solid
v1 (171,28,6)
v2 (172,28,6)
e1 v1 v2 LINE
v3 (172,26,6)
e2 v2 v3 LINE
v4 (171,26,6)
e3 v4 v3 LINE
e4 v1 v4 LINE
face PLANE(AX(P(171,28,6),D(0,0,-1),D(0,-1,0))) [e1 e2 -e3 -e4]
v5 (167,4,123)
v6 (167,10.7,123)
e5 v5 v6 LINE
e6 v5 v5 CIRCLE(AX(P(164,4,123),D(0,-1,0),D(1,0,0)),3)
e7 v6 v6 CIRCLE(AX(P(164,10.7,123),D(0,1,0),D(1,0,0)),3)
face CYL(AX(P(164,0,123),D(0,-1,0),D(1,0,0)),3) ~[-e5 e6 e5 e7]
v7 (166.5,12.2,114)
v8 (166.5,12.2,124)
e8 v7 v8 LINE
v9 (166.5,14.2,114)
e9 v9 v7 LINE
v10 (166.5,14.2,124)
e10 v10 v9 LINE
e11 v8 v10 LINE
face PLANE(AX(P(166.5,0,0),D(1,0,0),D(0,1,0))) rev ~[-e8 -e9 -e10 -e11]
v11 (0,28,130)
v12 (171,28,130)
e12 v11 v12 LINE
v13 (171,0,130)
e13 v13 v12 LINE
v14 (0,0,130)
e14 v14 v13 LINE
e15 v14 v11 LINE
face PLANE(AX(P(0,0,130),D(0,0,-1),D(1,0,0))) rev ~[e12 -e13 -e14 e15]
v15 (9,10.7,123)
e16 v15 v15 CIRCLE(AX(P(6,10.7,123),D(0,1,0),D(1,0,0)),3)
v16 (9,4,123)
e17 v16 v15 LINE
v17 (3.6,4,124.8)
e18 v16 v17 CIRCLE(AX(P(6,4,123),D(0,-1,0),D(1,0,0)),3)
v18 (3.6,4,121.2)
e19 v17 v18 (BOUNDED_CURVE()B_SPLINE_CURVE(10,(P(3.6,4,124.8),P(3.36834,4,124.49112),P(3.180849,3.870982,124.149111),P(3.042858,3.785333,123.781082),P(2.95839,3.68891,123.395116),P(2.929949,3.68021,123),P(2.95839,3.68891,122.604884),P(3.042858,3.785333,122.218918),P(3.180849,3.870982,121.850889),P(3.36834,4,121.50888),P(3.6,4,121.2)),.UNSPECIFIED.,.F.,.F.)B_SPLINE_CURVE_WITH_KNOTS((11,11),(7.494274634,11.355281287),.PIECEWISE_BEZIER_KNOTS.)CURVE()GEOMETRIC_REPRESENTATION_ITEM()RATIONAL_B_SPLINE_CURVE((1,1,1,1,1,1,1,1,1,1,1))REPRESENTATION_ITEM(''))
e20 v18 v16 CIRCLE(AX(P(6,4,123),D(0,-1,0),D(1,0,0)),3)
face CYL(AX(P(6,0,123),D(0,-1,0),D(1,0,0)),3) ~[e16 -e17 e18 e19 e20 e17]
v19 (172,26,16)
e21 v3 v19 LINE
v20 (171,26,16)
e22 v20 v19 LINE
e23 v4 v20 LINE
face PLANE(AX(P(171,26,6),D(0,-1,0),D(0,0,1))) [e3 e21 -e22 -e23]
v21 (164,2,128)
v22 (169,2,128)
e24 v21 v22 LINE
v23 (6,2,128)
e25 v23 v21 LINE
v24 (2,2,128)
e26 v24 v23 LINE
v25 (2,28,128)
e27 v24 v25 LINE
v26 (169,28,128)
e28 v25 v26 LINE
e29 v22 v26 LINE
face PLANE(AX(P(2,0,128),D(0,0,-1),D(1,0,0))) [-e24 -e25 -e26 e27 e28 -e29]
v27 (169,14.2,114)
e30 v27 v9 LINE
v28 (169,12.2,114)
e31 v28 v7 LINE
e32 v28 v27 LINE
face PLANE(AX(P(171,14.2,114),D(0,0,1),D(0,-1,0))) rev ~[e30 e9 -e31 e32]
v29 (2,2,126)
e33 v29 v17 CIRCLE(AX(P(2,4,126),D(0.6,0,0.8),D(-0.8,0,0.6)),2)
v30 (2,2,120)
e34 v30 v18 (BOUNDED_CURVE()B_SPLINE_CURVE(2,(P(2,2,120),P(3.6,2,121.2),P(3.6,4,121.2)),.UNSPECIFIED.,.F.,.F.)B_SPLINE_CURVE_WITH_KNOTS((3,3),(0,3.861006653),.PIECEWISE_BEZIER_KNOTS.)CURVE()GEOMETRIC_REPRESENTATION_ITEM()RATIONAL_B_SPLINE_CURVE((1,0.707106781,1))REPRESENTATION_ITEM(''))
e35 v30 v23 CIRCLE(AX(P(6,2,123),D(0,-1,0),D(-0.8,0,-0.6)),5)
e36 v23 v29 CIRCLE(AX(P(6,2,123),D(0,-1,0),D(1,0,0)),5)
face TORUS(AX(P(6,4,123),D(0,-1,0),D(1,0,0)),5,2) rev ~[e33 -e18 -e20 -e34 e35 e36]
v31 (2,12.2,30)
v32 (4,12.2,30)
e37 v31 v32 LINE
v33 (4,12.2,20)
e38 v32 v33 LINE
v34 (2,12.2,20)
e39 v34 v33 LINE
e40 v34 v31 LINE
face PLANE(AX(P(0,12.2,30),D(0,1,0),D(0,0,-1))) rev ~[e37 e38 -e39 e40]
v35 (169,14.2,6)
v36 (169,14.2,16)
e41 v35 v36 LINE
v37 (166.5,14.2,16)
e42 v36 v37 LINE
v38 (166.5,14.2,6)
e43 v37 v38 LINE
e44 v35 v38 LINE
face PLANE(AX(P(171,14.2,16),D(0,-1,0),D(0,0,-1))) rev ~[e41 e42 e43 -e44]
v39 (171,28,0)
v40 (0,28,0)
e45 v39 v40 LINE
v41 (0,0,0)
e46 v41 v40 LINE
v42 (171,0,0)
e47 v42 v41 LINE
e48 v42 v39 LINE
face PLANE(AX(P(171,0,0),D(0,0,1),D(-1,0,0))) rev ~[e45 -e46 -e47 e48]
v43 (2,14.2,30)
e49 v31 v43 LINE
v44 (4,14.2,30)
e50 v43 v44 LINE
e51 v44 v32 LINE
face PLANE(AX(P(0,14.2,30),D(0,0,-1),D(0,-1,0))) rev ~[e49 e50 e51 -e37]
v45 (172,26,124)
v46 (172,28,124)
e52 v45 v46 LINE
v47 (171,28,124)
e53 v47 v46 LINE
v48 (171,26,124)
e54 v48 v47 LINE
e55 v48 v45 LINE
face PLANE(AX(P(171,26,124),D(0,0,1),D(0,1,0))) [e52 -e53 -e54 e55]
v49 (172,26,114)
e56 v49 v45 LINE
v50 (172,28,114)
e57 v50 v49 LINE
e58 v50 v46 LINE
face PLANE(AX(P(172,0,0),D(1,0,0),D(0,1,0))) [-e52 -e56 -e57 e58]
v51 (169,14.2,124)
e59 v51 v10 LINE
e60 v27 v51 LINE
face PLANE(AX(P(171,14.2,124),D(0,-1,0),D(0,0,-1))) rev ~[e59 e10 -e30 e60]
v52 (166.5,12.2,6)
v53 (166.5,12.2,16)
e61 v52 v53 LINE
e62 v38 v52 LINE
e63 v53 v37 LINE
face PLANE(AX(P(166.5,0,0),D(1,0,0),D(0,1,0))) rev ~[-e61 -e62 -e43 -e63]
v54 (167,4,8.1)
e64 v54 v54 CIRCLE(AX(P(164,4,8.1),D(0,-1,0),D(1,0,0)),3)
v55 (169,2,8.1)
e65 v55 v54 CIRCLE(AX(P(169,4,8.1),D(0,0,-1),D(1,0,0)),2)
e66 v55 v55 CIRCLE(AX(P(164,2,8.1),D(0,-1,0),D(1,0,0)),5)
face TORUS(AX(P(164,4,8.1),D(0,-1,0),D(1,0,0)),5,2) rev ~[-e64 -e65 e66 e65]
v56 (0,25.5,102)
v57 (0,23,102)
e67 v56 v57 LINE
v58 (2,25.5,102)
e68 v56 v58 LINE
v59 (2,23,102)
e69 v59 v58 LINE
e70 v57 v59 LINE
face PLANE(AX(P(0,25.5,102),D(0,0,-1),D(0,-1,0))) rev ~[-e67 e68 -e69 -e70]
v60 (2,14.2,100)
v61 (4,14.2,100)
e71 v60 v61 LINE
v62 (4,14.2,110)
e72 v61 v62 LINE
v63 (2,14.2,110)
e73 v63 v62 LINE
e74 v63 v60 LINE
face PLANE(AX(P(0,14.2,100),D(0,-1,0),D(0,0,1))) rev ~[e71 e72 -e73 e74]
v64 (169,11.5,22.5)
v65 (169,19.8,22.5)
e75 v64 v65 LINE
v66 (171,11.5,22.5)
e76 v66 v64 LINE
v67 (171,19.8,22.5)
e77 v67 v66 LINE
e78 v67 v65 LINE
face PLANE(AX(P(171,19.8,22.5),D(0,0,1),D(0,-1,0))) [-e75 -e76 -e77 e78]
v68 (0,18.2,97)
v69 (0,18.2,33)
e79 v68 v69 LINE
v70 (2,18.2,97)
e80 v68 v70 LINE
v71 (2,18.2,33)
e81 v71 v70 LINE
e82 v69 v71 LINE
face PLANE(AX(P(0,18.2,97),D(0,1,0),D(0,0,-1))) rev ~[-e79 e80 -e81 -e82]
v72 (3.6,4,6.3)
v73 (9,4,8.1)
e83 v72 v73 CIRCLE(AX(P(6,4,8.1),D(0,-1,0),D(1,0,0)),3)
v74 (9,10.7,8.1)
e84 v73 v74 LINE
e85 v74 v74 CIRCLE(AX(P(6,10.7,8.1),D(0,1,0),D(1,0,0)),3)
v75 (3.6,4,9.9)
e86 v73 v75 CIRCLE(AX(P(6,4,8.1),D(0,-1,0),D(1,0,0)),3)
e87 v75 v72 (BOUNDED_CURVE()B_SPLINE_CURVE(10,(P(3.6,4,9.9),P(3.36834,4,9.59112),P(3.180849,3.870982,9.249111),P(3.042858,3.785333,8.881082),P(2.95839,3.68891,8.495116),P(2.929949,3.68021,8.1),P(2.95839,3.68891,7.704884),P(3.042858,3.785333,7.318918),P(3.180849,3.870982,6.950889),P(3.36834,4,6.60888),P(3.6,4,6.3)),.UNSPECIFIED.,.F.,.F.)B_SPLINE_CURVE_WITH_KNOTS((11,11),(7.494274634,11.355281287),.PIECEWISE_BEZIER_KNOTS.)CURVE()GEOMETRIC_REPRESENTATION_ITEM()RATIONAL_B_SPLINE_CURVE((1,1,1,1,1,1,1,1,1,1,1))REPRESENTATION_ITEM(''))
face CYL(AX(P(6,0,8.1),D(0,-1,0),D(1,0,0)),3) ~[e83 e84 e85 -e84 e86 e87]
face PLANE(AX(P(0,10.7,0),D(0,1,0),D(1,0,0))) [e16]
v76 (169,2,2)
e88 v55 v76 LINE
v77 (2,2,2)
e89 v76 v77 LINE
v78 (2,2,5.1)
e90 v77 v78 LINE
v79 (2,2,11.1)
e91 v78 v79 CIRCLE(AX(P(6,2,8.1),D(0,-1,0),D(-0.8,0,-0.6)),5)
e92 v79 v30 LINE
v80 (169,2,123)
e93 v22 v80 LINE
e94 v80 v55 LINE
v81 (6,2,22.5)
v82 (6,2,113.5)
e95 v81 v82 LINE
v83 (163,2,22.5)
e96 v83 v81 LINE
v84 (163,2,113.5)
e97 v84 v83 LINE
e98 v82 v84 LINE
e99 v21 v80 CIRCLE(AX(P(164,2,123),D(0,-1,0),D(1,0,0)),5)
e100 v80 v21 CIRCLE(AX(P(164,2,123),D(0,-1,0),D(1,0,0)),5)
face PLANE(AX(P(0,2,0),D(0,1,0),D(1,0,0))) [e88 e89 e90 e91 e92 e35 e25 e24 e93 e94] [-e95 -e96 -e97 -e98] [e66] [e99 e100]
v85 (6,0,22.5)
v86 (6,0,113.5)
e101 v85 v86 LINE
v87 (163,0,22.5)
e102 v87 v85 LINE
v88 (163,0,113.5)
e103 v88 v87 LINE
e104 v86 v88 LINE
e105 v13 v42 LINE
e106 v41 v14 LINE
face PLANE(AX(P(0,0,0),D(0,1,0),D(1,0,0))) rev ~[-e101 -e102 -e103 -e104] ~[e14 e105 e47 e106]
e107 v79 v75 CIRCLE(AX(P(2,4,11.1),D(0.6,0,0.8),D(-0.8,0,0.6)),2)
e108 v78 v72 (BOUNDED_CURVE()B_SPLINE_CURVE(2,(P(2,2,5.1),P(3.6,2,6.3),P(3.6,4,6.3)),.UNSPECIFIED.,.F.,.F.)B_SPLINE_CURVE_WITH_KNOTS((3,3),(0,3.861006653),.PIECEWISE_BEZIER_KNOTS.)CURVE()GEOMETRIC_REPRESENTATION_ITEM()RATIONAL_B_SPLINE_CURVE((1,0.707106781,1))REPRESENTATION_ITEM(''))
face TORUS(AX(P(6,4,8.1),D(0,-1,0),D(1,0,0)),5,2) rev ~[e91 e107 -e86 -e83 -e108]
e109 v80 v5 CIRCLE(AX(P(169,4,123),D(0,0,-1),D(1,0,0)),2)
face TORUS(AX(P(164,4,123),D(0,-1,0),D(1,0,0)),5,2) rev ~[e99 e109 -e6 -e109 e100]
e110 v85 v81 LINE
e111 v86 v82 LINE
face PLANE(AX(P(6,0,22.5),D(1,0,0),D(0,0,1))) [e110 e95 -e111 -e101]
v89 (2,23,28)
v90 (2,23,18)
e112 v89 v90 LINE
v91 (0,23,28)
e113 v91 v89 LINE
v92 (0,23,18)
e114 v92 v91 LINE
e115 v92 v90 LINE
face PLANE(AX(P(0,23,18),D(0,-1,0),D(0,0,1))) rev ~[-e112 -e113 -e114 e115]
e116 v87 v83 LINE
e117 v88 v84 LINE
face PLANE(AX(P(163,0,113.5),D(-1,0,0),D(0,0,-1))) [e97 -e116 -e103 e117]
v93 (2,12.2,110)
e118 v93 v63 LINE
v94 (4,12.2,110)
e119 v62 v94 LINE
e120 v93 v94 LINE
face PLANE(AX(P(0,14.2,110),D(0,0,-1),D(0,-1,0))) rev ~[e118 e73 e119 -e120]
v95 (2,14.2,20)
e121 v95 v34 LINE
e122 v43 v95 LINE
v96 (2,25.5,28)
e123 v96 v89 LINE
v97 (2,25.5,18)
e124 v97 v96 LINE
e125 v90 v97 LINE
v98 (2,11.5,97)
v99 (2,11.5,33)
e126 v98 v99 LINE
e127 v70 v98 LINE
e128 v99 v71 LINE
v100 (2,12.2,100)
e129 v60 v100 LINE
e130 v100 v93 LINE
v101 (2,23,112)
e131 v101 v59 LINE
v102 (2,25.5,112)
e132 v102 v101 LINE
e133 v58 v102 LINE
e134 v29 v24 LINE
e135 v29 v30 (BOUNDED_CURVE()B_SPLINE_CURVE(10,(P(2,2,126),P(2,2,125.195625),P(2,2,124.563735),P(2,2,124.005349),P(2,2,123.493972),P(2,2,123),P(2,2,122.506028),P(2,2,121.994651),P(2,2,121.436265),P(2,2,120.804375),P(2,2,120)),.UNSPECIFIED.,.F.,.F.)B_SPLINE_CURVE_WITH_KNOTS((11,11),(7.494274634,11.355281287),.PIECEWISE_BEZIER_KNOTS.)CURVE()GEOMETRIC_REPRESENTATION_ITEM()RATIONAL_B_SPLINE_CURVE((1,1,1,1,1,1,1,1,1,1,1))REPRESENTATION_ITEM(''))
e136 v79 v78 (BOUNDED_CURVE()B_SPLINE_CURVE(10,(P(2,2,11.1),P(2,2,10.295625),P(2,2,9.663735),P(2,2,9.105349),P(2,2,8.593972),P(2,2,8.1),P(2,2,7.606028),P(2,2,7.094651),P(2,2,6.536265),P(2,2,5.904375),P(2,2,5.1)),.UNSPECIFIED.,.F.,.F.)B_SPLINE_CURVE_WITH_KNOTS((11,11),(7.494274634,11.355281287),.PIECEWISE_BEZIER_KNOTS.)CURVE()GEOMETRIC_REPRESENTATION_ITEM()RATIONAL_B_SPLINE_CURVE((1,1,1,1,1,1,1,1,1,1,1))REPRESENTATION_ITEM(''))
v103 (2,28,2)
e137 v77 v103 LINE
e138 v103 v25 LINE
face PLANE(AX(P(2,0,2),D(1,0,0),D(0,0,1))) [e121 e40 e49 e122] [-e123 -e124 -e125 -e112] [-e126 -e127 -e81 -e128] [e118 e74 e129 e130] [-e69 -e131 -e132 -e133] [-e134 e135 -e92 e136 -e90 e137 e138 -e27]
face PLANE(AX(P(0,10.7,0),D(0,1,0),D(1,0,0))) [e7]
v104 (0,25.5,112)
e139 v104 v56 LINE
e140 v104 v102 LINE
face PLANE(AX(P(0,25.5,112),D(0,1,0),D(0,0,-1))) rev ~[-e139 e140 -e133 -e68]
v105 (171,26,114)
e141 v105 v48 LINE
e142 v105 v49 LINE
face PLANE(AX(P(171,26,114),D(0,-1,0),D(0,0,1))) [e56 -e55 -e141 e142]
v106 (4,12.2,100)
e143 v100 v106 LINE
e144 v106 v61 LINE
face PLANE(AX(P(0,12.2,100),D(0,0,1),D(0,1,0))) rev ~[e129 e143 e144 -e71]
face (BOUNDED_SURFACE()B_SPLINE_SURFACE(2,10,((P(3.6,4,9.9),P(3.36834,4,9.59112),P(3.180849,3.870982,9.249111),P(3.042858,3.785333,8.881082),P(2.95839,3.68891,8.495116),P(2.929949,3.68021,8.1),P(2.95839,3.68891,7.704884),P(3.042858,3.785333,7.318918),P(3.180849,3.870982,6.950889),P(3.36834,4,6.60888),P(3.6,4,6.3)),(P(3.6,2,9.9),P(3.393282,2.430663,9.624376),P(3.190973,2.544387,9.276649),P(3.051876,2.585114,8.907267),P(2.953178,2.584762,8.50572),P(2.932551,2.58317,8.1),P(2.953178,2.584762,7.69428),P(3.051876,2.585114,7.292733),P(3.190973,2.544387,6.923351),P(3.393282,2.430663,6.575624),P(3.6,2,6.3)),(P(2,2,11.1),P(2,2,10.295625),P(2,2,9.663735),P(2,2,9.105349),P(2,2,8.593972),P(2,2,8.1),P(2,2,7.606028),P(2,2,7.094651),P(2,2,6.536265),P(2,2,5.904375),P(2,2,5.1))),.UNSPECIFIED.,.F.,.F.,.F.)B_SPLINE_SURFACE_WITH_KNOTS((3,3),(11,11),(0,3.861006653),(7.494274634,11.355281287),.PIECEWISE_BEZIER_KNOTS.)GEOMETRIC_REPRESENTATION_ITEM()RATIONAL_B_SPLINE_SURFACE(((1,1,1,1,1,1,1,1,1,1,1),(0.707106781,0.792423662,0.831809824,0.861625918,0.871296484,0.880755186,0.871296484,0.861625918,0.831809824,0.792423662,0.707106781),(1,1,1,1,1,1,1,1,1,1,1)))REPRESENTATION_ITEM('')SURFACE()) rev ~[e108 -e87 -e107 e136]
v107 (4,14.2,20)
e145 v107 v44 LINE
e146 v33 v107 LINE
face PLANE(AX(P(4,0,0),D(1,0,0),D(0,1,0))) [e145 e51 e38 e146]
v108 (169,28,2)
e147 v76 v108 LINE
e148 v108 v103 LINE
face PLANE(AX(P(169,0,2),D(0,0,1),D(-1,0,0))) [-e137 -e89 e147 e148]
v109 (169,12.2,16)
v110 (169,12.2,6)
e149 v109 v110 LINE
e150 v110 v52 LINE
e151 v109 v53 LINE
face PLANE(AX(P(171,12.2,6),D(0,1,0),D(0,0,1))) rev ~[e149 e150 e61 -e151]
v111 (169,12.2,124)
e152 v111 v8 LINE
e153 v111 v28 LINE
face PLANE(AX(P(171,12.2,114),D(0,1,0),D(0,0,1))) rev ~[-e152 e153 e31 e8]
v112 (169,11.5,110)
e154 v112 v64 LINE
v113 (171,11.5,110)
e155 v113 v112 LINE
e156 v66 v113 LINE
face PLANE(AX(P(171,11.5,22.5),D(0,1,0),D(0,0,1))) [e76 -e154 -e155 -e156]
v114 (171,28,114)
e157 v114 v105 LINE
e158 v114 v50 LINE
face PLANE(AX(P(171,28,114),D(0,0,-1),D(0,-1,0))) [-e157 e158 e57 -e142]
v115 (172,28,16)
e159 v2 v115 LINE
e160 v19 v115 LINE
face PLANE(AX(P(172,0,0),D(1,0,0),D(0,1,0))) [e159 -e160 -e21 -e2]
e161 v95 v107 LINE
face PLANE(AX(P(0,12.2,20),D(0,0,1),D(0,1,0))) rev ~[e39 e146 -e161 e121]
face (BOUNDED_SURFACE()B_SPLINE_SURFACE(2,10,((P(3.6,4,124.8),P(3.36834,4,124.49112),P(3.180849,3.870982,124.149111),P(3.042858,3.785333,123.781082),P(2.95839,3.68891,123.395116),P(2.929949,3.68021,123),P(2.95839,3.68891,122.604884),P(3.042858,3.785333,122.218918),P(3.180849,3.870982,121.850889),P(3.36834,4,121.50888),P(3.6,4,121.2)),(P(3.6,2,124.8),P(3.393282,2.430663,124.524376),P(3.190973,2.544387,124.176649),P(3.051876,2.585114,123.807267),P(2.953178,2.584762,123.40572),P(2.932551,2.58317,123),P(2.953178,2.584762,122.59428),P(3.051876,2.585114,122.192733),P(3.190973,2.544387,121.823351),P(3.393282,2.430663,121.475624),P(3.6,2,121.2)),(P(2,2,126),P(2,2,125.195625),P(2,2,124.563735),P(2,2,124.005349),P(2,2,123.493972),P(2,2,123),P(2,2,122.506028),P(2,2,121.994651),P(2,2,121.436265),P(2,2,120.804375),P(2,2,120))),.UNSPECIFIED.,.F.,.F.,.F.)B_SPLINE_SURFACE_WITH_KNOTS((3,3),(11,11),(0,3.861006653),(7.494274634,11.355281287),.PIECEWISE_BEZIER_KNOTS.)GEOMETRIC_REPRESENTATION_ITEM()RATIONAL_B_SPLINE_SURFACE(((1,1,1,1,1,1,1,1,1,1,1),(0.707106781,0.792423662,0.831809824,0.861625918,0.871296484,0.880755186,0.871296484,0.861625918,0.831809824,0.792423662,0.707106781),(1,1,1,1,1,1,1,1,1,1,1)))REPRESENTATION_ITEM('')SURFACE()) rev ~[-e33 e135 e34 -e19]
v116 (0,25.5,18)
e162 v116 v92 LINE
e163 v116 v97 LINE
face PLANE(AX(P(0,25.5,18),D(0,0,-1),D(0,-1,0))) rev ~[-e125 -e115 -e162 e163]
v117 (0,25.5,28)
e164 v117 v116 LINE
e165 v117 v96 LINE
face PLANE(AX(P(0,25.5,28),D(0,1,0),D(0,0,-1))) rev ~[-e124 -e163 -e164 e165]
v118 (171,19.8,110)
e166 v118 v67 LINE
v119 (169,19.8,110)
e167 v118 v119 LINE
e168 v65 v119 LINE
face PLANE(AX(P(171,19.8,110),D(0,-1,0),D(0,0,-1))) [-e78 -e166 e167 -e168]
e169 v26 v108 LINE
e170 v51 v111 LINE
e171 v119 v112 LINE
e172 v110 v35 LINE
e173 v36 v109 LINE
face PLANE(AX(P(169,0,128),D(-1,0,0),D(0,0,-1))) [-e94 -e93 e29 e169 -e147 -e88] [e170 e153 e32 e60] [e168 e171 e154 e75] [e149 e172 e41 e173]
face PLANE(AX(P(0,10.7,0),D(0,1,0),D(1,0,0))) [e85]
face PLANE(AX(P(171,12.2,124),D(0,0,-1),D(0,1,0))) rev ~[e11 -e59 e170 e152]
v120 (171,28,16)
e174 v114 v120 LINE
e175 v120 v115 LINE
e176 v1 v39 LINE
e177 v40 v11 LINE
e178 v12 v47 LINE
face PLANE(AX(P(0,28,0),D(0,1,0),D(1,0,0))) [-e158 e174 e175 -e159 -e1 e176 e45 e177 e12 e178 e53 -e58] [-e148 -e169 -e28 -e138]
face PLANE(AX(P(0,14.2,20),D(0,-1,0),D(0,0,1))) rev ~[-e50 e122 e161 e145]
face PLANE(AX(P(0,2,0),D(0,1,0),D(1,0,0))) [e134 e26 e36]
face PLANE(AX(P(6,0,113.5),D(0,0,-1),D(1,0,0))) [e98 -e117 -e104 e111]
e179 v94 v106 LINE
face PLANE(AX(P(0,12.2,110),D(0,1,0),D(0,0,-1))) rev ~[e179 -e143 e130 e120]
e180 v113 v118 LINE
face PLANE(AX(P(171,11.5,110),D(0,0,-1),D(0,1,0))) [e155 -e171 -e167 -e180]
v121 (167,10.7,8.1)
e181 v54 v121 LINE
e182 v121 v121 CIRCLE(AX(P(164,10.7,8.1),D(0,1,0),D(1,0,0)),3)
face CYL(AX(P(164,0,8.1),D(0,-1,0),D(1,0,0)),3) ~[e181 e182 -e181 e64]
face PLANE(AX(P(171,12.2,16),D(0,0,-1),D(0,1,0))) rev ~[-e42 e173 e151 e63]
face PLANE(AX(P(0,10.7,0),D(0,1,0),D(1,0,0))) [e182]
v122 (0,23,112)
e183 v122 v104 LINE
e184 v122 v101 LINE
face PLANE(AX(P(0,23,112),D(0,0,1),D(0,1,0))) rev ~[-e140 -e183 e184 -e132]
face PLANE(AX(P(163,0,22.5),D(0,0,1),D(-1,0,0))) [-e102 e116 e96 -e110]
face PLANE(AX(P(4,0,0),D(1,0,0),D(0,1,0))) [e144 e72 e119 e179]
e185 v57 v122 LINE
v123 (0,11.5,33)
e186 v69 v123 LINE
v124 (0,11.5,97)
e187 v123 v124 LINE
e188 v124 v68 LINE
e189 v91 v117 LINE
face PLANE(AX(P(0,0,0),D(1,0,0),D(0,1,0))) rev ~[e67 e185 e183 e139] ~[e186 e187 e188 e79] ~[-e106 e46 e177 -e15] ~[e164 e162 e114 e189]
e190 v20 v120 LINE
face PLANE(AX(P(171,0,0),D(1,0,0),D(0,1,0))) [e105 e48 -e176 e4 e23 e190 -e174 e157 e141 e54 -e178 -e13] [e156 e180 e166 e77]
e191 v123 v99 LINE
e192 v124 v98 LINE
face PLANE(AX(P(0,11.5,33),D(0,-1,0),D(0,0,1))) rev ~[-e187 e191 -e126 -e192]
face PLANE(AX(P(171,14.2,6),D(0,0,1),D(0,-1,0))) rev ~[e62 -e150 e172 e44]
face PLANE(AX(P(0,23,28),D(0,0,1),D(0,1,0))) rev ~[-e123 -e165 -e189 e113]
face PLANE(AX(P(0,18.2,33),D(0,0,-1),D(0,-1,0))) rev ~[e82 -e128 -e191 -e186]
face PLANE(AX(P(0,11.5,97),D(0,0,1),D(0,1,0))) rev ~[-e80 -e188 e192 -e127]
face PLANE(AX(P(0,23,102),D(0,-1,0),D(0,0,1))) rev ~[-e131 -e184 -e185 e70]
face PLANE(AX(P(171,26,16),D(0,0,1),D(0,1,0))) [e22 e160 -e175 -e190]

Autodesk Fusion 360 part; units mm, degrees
sketch "Sketch1" plane through (0, 0, 0) normal (0, 1, 0) x (1, 0, 0)
  line L0 (0, -130) -> (171, -130)
  line L1 (171, -130) -> (171, 0)
  line L2 (171, 0) -> (0, 0)
  line L3 (0, 0) -> (0, -130)
  line L4 (6, -113.5) -> (163, -113.5)
  line L5 (163, -113.5) -> (163, -22.5)
  line L6 (163, -22.5) -> (6, -22.5)
  line L7 (6, -22.5) -> (6, -113.5)
  line L8 (2, -128) -> (169, -128)
  line L9 (169, -128) -> (169, -2)
  line L10 (169, -2) -> (2, -2)
  line L11 (2, -2) -> (2, -128)
  circle A0 centre (6, -8.1) radius 3
  circle A1 centre (164, -8.1) radius 3
  circle A2 centre (6, -123) radius 3
  circle A3 centre (164, -123) radius 3
  dimension "d1" = 171
  dimension "d2" = 130
  dimension "d3" = 157
  dimension "d4" = 91
  dimension "d6" = 16.5
  dimension "d7" = 167
  dimension "d8" = 126
  dimension "d9" = 2
  dimension "d10" = 2
  dimension "d15" = 6
  dimension "d17" = 14.4
  dimension "d18" = 6
  dimension "d19" = 158
  dimension "d20" = 6
  dimension "d21" = 6
  dimension "d22" = 158
  dimension "d25" = 7
  dimension "d37" = 14.4
  dimension "d39" = 7
  dimension "d40" = 114.9
extrude "Extrude1" add sketch "Sketch1" along normal blind 28 contours L0 L1 L2 L3
extrude "Extrude2" add sketch "Sketch1" along normal blind 2 contours L8 L9 L10 L11 | A0 | A1 | A2 | A3
extrude "Extrude4" add sketch "Sketch1" along normal blind 10.7 contours A3
extrude "Extrude5" add sketch "Sketch1" along normal blind 10.7 contours A2
extrude "Extrude6" add sketch "Sketch1" along normal blind 10.7 contours A0
extrude "Extrude7" add sketch "Sketch1" along normal blind 10.7 contours A1
fillet "Fillet1" radius 2 1 edges at (161.203, 2, 121.9152)
fillet "Fillet2" radius 2 1 edges at (3.203, 2, 121.9152)
fillet "Fillet3" radius 2 1 edges at (3.203, 2, 7.0152)
fillet "Fillet4" radius 2 1 edges at (161.203, 2, 7.0152)
sketch "Right - Buttons" plane through (0, 0, 0) normal (1, 0, 0) x (0, 1, 0)
  line L0 (11.5, 97) -> (18.2, 97)
  line L1 (18.2, 97) -> (18.2, 33)
  line L2 (18.2, 33) -> (11.5, 33)
  line L3 (11.5, 33) -> (11.5, 97)
  line L4 (0, 0) -> (28, 0)
  line L5 (14.2, 110) -> (12.2, 110)
  line L6 (12.2, 110) -> (12.2, 100)
  line L7 (12.2, 100) -> (14.2, 100)
  line L8 (14.2, 100) -> (14.2, 110)
  line L9 (0, 130) -> (28, 130)
  line L10 (14.2, 30) -> (12.2, 30)
  line L11 (12.2, 30) -> (12.2, 20)
  line L12 (12.2, 20) -> (14.2, 20)
  line L13 (14.2, 20) -> (14.2, 30)
  line L14 (23, 112) -> (25.5, 112)
  line L15 (25.5, 112) -> (25.5, 102)
  line L16 (25.5, 102) -> (23, 102)
  line L17 (23, 102) -> (23, 112)
  line L18 (28, 0) -> (28, 130)
  line L19 (23, 28) -> (25.5, 28)
  line L20 (25.5, 28) -> (25.5, 18)
  line L21 (25.5, 18) -> (23, 18)
  line L22 (23, 18) -> (23, 28)
  dimension "d49" = 6.7
  dimension "d50" = 64
  dimension "d51" = 33
  dimension "d52" = 11.5
  dimension "d73" = 2
  dimension "d74" = 10
  dimension "d75" = 12.2
  dimension "d76" = 20
  dimension "d77" = 2
  dimension "d78" = 10
  dimension "d79" = 12.2
  dimension "d80" = 20
  dimension "d91" = 2.5
  dimension "d92" = 10
  dimension "d93" = 2.5
  dimension "d94" = 18
  dimension "d95" = 2.5
  dimension "d96" = 10
  dimension "d97" = 2.5
  dimension "d98" = 18
extrude "Extrude8" cut sketch "Right - Buttons" along normal blind 10 contours L0 L1 L2 L3
sketch "Left - HDMI" plane through (171, 0, 0) normal (1, 0, 0) x (0, 1, 0)
  line L0 (0, 130) -> (0, 0)
  line L1 (0, 0) -> (28, 0)
  line L2 (28, 0) -> (28, 130)
  line L3 (28, 130) -> (0, 130)
  line L4 (11.5, 110) -> (19.8, 110)
  line L5 (19.8, 110) -> (19.8, 22.5)
  line L6 (19.8, 22.5) -> (11.5, 22.5)
  line L7 (11.5, 22.5) -> (11.5, 110)
  line L8 (12.2, 124) -> (14.2, 124)
  line L9 (14.2, 124) -> (14.2, 114)
  line L10 (14.2, 114) -> (12.2, 114)
  line L11 (12.2, 114) -> (12.2, 124)
  line L12 (12.2, 16) -> (14.2, 16)
  line L13 (14.2, 16) -> (14.2, 6)
  line L14 (14.2, 6) -> (12.2, 6)
  line L15 (12.2, 6) -> (12.2, 16)
  line L16 (26, 124) -> (28, 124)
  line L17 (28, 124) -> (28, 114)
  line L18 (28, 114) -> (26, 114)
  line L19 (26, 114) -> (26, 124)
  line L20 (26, 16) -> (28, 16)
  line L21 (28, 16) -> (28, 6)
  line L22 (28, 6) -> (26, 6)
  line L23 (26, 6) -> (26, 16)
  dimension "d55" = 8.3
  dimension "d56" = 87.5
  dimension "d57" = 22.5
  dimension "d58" = 11.5
  dimension "d61" = 2
  dimension "d62" = 10
  dimension "d63" = 12.2
  dimension "d64" = 6
  dimension "d65" = 2
  dimension "d66" = 10
  dimension "d67" = 12.2
  dimension "d68" = 6
  dimension "d103" = 2
  dimension "d104" = 10
  dimension "d106" = 2
  dimension "d107" = 10
extrude "Extrude9" cut sketch "Left - HDMI" against normal blind 5 contours L4 L5 L6 L7
extrude "Extrude10" add sketch "Left - HDMI" against normal blind 4.5 contours L8 L9 L10 L11
extrude "Extrude11" add sketch "Left - HDMI" against normal blind 4.5 contours L12 L13 L14 L15
extrude "Extrude12" add sketch "Right - Buttons" along normal blind 4 contours L5 L6 L7 L8
extrude "Extrude13" add sketch "Right - Buttons" along normal blind 4 contours L10 L11 L12 L13
extrude "Extrude14" cut sketch "Right - Buttons" along normal blind 3 contours L14 L15 L16 L17
extrude "Extrude15" cut sketch "Right - Buttons" along normal blind 3 contours L19 L20 L21 L22
extrude "Extrude16" add sketch "Left - HDMI" along normal blind 1 contours L2 L16 L17 L18 L19
extrude "Extrude17" add sketch "Left - HDMI" along normal blind 1 contours L2 L20 L21 L22 L23
